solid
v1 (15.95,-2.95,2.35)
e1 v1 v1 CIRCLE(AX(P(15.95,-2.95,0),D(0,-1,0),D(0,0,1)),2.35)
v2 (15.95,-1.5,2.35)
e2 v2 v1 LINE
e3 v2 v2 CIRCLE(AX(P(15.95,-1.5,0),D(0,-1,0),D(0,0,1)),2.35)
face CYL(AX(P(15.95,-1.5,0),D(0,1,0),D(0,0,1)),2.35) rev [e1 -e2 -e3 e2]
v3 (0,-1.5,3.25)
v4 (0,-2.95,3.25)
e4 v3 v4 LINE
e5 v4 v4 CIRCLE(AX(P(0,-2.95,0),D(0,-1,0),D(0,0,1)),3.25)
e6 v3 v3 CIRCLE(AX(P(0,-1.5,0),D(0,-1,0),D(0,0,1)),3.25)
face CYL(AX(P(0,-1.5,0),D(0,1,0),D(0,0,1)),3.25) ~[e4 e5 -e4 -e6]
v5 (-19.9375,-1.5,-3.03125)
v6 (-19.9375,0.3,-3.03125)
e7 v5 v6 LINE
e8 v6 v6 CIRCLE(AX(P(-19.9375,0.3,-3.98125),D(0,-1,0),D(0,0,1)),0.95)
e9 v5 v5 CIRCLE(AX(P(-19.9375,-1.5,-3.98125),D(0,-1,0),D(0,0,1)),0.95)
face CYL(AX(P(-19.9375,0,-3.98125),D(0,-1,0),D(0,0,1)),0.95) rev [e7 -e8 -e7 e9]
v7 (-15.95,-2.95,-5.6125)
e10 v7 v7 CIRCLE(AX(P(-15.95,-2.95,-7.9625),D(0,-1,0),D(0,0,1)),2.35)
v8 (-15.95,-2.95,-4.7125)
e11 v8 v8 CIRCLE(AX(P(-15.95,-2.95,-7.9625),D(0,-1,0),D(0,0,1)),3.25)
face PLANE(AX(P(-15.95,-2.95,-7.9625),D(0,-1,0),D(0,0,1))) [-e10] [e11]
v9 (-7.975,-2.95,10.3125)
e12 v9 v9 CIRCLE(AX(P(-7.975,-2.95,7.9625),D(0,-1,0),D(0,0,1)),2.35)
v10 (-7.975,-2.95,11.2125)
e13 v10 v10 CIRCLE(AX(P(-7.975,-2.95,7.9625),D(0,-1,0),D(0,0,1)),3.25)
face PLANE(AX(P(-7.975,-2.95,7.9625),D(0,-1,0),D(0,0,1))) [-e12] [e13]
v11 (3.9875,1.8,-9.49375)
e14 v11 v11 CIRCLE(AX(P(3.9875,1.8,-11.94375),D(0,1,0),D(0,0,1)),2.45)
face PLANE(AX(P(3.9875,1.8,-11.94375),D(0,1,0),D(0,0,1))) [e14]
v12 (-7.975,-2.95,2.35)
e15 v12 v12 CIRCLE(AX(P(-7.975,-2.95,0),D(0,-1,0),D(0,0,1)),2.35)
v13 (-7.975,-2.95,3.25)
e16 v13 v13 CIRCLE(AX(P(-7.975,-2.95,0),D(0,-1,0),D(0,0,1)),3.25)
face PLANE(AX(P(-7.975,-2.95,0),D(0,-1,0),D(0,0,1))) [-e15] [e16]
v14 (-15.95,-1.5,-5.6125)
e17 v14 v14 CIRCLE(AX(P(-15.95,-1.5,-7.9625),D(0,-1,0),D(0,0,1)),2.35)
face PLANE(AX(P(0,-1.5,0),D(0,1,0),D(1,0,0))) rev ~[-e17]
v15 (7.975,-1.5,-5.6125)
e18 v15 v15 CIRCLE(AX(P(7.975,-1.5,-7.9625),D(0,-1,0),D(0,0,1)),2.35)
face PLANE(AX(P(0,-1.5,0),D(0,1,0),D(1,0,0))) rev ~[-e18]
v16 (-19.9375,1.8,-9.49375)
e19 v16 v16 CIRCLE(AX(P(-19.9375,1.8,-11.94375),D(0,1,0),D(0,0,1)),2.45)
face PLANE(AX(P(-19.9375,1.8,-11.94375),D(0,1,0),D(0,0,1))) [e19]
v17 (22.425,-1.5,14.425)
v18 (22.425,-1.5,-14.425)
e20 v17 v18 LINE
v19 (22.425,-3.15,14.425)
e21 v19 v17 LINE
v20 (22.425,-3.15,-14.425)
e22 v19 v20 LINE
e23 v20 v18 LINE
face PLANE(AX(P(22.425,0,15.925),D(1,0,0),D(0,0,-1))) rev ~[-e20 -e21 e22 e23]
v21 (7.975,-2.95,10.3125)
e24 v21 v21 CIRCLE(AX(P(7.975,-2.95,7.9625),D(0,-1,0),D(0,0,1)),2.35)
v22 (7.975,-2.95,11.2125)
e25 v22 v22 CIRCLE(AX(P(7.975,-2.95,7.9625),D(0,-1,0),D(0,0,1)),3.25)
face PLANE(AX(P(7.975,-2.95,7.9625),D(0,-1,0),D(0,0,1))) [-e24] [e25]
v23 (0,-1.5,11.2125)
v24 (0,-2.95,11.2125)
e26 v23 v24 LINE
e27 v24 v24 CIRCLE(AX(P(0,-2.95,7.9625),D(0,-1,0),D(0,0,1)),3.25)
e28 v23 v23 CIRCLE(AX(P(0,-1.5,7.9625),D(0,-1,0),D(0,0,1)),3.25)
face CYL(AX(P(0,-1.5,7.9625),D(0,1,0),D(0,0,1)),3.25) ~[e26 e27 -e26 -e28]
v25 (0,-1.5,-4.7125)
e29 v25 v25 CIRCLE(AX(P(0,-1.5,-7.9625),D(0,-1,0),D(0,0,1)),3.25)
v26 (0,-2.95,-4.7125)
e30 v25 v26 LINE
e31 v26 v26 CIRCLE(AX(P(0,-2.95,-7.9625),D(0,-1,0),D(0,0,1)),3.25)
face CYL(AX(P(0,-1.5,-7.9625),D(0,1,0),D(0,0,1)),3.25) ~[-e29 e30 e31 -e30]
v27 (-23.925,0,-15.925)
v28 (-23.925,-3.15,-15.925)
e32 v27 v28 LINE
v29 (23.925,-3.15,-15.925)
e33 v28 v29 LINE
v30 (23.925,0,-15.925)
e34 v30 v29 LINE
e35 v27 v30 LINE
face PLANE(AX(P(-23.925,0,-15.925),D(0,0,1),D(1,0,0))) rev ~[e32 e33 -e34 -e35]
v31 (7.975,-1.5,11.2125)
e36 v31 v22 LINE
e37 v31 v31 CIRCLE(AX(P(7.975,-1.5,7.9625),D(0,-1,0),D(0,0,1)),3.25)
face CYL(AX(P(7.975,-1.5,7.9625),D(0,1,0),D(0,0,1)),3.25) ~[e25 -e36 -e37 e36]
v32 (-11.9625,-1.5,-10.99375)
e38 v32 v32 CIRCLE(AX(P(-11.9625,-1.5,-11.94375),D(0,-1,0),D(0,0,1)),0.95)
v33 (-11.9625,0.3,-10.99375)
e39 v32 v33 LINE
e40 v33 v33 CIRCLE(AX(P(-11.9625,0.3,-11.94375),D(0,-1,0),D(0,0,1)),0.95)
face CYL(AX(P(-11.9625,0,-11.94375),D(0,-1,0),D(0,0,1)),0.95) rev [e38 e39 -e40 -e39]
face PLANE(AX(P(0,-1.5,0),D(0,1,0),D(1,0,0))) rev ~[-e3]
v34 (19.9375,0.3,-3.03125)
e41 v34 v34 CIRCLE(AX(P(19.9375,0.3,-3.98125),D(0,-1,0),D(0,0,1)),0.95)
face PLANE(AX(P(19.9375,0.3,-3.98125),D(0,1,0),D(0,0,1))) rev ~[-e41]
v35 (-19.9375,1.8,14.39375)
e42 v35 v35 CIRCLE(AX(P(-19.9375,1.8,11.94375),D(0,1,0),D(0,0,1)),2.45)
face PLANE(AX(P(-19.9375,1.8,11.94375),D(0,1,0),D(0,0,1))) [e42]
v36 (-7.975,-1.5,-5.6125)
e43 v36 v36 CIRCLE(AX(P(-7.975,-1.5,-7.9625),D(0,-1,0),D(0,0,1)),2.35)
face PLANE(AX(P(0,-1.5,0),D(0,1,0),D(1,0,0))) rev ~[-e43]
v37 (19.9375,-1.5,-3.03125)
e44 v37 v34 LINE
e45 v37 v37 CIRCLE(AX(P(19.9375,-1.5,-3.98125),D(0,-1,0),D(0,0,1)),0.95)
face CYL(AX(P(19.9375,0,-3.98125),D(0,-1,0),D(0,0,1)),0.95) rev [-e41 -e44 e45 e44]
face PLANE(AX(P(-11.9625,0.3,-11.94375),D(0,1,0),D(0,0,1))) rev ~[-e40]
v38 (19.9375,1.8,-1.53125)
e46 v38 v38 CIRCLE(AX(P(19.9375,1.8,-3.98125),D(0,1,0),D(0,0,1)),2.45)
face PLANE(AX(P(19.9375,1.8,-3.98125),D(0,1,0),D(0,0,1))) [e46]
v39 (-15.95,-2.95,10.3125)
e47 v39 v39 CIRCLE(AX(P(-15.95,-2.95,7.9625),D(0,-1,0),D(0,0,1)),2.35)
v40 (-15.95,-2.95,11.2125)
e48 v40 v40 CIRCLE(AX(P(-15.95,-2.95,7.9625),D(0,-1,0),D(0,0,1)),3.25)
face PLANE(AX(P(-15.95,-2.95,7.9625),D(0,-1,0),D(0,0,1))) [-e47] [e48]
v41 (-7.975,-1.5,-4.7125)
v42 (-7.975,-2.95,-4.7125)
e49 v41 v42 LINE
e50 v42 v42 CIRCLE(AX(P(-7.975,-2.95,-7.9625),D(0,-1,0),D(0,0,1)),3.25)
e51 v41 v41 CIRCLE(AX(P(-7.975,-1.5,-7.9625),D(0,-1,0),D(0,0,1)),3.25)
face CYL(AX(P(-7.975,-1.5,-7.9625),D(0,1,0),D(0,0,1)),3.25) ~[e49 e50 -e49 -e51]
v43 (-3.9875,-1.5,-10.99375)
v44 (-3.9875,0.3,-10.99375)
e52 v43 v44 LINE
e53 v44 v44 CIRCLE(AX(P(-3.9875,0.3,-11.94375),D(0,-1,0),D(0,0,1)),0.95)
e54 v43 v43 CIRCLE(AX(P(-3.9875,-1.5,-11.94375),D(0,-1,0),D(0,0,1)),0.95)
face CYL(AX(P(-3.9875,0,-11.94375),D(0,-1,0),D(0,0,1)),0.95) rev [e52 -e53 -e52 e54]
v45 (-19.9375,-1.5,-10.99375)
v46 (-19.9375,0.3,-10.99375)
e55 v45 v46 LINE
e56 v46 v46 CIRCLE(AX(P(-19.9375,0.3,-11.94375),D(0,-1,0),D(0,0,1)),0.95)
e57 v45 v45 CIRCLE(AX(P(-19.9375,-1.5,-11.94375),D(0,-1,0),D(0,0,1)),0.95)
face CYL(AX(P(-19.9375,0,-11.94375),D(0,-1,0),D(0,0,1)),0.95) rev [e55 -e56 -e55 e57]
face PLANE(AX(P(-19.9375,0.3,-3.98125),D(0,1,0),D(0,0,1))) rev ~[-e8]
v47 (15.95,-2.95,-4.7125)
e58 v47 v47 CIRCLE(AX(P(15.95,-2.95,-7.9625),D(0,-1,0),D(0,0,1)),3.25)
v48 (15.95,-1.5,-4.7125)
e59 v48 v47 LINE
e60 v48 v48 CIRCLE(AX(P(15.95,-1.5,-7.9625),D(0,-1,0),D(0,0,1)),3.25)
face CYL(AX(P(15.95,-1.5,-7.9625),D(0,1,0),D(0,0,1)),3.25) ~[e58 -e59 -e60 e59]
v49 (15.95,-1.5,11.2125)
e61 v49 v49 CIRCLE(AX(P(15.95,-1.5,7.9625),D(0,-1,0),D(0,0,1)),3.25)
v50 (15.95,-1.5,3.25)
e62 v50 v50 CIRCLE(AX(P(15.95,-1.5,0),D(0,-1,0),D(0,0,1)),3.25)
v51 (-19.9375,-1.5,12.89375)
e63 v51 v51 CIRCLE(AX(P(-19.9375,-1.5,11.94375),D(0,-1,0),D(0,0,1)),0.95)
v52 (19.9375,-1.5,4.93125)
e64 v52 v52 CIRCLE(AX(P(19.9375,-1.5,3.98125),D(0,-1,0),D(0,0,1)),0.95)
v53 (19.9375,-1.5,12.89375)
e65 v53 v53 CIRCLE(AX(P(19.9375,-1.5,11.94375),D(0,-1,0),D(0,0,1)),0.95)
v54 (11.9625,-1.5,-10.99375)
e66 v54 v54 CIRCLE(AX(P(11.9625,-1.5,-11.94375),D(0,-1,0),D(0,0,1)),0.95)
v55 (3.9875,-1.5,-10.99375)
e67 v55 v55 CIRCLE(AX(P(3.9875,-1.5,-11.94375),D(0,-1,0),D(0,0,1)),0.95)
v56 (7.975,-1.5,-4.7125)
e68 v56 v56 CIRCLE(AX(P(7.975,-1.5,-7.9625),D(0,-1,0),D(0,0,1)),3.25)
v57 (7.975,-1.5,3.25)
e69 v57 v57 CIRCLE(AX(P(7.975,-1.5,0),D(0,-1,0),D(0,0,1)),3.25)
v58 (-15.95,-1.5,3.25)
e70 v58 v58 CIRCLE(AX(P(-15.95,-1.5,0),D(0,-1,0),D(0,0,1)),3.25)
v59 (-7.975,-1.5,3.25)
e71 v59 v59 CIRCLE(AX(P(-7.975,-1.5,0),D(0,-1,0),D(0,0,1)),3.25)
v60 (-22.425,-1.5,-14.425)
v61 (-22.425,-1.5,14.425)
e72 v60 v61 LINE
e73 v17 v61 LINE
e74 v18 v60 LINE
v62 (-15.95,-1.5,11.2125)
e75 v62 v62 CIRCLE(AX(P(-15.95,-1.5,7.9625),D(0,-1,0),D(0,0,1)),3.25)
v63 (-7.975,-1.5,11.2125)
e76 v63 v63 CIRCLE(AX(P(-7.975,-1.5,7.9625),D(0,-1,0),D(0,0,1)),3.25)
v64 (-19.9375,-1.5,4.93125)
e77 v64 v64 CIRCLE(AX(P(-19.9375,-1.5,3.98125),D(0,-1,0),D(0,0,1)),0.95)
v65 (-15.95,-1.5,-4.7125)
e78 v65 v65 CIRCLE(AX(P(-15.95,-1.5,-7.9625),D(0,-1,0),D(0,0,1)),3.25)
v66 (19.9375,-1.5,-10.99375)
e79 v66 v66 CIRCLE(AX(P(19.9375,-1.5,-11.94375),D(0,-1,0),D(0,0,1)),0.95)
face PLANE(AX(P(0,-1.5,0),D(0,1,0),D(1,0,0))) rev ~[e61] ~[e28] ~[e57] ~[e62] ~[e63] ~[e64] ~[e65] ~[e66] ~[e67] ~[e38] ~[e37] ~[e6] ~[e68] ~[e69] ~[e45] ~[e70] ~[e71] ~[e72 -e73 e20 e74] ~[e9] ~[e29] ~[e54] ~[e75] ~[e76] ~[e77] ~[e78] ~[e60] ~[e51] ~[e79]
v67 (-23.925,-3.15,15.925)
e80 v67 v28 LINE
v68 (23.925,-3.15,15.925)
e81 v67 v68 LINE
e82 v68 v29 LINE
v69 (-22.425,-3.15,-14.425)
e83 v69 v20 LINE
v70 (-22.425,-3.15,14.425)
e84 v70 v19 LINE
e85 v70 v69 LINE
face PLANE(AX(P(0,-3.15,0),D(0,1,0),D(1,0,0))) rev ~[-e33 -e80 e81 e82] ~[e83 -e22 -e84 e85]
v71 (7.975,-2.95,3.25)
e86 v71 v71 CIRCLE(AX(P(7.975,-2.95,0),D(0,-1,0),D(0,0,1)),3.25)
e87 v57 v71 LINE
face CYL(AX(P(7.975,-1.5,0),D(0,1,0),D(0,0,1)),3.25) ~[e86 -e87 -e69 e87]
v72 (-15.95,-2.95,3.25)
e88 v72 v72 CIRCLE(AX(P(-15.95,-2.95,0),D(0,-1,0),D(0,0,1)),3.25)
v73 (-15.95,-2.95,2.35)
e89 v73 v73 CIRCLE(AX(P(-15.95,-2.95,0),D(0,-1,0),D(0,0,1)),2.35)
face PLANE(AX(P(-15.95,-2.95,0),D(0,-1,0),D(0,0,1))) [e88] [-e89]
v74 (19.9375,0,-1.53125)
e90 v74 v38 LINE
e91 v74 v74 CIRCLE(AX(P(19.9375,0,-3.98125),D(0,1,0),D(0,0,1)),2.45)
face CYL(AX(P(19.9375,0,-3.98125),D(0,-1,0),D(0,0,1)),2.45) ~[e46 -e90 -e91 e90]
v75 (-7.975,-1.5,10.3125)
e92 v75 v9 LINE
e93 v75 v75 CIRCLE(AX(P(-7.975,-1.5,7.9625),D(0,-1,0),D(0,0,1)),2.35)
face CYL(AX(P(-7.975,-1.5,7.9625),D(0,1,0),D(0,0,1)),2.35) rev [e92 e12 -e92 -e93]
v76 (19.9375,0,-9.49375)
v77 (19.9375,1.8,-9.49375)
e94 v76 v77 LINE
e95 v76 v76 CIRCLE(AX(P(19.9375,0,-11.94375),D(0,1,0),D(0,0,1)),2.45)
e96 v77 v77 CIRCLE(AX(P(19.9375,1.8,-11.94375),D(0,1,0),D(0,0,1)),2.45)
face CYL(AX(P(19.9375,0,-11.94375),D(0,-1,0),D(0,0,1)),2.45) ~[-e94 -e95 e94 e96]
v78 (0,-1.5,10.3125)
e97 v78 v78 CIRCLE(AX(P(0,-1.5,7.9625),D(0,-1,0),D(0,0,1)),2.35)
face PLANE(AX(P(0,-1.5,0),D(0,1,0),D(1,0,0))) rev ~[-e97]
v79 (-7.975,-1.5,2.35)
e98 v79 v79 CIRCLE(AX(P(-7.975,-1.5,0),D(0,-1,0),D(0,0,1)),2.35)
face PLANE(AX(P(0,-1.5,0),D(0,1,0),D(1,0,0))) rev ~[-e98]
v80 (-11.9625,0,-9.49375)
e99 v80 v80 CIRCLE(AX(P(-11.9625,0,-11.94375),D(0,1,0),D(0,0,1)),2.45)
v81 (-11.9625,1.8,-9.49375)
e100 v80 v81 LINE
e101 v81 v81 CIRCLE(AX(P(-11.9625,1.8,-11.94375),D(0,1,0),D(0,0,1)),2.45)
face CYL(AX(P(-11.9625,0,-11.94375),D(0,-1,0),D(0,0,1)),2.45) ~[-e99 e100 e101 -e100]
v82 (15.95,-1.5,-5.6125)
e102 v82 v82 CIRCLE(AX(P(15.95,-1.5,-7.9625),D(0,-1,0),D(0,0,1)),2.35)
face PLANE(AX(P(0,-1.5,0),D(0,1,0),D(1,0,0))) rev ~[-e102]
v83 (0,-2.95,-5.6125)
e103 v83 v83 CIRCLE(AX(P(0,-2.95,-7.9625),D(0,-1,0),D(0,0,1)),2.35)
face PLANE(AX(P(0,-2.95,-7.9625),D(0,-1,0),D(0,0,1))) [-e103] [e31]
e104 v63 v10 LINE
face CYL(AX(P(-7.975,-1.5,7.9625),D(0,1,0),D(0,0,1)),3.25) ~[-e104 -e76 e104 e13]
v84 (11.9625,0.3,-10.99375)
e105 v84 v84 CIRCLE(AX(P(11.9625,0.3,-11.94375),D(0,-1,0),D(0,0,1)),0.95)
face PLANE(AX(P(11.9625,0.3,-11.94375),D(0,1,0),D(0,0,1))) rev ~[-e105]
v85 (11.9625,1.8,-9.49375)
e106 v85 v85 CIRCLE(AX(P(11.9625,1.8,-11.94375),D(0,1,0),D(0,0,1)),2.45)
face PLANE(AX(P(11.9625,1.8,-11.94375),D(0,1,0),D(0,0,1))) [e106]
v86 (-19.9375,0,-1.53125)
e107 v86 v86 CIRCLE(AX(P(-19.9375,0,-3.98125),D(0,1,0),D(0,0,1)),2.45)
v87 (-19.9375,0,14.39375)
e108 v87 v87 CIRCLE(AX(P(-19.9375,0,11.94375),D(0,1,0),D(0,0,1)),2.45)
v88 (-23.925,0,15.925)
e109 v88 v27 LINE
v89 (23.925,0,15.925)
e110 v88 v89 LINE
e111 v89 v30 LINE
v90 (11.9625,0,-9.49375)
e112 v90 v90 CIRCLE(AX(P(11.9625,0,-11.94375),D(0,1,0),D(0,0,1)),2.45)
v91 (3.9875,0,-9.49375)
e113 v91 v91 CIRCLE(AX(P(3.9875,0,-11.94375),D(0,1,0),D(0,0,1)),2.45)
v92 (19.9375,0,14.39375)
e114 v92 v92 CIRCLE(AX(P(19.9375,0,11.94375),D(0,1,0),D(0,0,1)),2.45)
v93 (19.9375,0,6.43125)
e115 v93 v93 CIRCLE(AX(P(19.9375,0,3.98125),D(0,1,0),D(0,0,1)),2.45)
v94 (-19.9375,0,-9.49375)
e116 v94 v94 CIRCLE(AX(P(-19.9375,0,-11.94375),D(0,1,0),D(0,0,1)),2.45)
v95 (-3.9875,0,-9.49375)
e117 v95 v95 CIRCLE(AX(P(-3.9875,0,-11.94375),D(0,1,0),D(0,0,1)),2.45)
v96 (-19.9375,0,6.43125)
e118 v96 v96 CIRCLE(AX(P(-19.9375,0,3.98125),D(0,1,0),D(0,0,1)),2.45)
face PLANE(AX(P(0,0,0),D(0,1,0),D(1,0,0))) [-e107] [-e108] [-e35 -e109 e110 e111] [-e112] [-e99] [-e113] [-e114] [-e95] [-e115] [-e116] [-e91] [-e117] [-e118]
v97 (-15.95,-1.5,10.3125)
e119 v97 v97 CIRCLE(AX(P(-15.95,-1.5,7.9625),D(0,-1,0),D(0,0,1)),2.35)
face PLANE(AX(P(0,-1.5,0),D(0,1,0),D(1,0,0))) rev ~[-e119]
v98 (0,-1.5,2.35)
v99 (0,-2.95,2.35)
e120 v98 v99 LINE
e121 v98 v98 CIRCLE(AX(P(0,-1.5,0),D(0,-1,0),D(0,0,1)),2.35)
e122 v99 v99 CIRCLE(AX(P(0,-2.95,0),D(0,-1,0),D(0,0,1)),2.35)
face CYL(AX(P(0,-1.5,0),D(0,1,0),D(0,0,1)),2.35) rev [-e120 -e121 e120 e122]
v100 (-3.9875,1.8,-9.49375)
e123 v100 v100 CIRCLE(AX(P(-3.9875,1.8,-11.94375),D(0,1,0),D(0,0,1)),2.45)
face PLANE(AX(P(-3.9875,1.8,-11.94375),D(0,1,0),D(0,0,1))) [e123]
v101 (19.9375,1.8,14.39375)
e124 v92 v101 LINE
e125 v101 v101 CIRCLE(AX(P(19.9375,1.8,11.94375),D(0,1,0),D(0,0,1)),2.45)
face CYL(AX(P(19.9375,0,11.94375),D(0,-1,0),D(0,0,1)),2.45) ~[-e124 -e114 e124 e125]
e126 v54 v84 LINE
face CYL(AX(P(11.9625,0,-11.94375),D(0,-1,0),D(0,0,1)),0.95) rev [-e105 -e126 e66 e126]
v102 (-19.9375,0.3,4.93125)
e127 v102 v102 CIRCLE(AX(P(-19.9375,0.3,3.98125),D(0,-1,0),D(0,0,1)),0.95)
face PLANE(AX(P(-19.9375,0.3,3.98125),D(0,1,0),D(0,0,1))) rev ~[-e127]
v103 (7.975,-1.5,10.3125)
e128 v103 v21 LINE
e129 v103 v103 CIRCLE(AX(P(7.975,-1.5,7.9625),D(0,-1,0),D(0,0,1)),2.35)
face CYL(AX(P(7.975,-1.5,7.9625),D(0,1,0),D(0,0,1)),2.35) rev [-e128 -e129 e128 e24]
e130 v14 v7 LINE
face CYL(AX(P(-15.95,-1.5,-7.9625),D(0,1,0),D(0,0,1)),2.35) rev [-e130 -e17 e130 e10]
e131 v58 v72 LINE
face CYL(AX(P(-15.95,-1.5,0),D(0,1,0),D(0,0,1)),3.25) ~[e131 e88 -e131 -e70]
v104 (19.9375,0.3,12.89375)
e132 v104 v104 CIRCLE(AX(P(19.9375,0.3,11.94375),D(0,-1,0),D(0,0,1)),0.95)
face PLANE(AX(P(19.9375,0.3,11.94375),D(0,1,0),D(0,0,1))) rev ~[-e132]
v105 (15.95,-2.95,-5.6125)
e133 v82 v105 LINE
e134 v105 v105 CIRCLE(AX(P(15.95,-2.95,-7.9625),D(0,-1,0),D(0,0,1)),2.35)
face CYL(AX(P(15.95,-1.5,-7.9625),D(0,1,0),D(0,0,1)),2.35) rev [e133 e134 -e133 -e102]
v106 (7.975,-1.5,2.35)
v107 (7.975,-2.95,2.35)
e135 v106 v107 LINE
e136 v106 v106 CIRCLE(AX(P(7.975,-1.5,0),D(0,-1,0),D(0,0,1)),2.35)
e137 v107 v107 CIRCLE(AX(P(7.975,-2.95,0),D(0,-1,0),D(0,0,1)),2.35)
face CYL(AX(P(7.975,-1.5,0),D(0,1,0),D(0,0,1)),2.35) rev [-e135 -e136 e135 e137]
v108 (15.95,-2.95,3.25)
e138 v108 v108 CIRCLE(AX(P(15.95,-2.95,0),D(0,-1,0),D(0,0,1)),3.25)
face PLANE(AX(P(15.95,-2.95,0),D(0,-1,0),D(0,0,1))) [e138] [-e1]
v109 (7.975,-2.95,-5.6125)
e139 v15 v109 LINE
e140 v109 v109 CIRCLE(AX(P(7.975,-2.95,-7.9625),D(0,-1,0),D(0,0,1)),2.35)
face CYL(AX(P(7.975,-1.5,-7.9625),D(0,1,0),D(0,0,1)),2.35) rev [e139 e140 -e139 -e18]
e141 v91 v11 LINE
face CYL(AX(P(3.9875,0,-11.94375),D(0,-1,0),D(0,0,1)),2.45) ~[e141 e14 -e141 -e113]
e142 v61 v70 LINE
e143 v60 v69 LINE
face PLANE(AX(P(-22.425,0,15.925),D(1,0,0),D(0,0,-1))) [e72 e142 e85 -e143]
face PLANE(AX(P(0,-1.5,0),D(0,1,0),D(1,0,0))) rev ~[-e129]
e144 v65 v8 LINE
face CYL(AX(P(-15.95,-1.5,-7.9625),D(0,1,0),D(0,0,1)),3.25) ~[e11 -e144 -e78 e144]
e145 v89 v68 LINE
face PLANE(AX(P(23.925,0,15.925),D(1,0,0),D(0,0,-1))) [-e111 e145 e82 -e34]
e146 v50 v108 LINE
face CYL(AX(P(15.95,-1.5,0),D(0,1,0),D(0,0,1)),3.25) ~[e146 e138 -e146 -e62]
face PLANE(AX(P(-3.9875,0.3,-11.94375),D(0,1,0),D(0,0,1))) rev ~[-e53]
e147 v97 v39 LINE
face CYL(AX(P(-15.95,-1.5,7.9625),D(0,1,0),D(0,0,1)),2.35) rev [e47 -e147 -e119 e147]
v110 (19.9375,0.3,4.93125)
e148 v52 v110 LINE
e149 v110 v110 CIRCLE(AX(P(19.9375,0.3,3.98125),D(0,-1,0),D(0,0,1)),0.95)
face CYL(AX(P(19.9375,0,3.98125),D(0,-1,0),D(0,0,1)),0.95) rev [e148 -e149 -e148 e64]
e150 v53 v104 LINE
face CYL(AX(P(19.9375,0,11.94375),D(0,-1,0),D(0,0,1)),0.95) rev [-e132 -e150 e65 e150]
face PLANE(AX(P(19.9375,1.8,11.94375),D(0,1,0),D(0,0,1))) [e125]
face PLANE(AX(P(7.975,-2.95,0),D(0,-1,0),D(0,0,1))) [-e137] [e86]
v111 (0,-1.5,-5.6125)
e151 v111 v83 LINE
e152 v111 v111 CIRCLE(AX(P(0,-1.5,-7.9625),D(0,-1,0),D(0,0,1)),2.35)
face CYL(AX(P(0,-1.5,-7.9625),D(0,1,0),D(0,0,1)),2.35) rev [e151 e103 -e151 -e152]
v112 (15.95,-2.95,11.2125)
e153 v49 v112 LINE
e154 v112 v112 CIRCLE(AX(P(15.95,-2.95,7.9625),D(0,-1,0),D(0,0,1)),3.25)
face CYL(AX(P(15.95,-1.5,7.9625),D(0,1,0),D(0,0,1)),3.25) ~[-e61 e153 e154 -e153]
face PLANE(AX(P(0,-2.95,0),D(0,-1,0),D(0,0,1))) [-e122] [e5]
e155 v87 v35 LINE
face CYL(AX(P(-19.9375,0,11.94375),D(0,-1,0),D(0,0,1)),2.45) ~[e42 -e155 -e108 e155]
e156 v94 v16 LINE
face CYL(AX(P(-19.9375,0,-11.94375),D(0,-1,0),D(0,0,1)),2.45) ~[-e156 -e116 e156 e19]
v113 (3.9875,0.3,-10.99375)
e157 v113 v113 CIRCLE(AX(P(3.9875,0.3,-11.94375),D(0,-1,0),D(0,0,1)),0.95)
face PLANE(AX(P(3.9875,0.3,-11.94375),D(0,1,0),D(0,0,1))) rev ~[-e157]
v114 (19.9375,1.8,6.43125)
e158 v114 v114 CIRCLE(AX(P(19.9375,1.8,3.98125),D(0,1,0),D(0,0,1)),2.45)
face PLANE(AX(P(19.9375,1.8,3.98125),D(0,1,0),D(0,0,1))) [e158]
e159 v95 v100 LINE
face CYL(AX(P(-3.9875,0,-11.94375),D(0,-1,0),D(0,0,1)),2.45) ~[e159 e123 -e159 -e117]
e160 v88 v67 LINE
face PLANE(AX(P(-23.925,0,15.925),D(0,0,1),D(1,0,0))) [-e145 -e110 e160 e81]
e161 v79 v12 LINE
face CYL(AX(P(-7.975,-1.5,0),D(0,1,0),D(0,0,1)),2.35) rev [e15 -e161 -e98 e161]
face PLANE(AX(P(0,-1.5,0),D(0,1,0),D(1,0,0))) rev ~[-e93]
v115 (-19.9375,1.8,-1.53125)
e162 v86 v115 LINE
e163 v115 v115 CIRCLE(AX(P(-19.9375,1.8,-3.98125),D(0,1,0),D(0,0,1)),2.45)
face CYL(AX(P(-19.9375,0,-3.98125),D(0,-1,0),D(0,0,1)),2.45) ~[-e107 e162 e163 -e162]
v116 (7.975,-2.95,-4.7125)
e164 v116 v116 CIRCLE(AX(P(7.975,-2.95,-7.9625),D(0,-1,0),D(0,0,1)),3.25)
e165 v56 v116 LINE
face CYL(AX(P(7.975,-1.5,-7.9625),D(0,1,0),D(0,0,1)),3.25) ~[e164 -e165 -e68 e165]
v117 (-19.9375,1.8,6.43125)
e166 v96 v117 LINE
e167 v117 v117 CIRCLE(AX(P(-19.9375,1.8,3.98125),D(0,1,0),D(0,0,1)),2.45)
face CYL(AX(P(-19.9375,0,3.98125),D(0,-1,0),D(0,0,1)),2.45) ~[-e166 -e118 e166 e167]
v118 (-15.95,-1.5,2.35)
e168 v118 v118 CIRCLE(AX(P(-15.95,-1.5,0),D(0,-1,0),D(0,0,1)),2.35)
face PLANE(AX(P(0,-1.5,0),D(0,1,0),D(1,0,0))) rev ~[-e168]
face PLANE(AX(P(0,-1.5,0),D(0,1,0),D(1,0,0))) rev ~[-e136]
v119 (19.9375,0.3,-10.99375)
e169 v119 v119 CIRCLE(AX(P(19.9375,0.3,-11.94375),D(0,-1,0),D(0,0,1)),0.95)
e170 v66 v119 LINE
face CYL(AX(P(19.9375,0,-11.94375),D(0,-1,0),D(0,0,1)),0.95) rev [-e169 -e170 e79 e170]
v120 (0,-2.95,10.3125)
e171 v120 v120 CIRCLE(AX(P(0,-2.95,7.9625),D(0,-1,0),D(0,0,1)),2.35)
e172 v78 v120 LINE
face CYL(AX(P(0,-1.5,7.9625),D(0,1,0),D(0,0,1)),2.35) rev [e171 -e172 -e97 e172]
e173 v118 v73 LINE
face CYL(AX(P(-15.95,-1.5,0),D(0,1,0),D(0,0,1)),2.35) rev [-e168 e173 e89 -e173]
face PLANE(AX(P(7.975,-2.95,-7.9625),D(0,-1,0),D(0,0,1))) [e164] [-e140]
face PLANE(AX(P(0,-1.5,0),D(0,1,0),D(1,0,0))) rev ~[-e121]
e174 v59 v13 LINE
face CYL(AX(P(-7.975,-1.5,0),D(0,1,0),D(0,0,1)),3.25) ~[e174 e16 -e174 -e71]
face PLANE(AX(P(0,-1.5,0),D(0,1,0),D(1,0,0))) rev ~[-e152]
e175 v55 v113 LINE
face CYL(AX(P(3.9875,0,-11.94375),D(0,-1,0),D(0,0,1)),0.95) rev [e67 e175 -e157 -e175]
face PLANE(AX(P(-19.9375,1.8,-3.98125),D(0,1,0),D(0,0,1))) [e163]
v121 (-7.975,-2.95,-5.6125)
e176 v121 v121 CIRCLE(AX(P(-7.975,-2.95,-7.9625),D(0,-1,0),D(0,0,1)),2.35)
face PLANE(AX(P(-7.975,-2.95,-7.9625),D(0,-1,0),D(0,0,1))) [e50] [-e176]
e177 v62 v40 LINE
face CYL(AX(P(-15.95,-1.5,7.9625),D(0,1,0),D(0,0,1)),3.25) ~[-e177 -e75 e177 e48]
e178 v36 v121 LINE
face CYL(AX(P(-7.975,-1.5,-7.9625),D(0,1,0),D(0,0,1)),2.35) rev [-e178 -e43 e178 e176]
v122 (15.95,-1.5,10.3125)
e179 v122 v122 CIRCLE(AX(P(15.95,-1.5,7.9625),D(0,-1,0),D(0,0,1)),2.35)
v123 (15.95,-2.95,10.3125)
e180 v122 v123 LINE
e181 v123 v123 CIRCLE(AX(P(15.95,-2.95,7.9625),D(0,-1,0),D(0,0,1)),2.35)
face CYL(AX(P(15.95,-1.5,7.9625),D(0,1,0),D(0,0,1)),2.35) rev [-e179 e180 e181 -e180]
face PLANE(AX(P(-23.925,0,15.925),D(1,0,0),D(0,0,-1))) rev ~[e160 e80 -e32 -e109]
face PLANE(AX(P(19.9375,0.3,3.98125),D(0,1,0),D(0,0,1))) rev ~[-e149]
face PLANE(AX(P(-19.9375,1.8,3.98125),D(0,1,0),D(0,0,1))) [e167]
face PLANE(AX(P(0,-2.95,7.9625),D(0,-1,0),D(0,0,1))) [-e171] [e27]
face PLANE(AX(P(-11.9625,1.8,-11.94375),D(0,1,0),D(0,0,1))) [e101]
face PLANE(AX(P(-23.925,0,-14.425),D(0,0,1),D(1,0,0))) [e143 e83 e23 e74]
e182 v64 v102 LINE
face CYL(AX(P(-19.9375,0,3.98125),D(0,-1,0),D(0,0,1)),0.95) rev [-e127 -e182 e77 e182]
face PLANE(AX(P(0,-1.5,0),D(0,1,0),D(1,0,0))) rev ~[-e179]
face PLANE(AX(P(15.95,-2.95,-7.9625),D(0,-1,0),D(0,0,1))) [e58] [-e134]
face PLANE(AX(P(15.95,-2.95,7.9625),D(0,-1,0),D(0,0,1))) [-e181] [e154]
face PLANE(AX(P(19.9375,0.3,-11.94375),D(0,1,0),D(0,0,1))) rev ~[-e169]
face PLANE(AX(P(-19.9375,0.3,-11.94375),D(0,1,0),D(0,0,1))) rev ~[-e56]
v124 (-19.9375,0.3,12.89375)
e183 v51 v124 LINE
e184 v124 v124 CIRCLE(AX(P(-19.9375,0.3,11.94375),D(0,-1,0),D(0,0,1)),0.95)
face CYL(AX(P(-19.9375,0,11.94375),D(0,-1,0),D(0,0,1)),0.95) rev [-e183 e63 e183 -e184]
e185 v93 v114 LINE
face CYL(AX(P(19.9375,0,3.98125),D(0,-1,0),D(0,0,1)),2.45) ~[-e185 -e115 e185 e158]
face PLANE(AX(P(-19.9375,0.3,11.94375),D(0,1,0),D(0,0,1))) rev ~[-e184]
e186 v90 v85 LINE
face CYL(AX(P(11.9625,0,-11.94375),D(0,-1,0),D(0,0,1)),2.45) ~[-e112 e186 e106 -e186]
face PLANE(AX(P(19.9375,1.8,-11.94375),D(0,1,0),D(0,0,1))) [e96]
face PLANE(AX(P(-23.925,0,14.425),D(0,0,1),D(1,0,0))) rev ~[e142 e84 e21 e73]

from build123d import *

# Parameters (mm, degrees)
SKETCH1_W           = 47.85
SKETCH1_H           = 31.85
BOSS_EXTRUDE1_DEPTH = 3.15
SKETCH2_R           = 2.45
BOSS_EXTRUDE2_DEPTH = 1.8
SHELL1_T            = -1.5
SKETCH3_R           = 3.25
SKETCH3_R_2         = 2.35
BOSS_EXTRUDE3_DEPTH = 1.45


with BuildPart() as part:
    # Sketch1 → Boss-Extrude1 (new body)
    with BuildSketch(Plane(origin=(0, 0, 0), x_dir=(1, 0, 0), z_dir=(0, 1, 0))):
        Rectangle(SKETCH1_W, SKETCH1_H)
    extrude(amount=-BOSS_EXTRUDE1_DEPTH)

    # Sketch2 → Boss-Extrude2 (add)
    with BuildSketch(Plane(origin=(0, 0, 0), x_dir=(1, 0, 0), z_dir=(0, 1, 0))):
        with Locations(Location((-19.9375, -11.94375, 0), (0, 0, 270))):
            Circle(SKETCH2_R)
        with Locations(Location((-19.9375, -3.98125, 0), (0, 0, 270))):
            Circle(SKETCH2_R)
        with Locations(Location((-19.9375, 3.98125, 0), (0, 0, 270))):
            Circle(SKETCH2_R)
        with Locations(Location((-19.9375, 11.94375, 0), (0, 0, 270))):
            Circle(SKETCH2_R)
        with Locations(Location((-11.9625, 11.94375, 0), (0, 0, 270))):
            Circle(SKETCH2_R)
        with Locations(Location((-3.9875, 11.94375, 0), (0, 0, 270))):
            Circle(SKETCH2_R)
        with Locations(Location((3.9875, 11.94375, 0), (0, 0, 270))):
            Circle(SKETCH2_R)
        with Locations(Location((11.9625, 11.94375, 0), (0, 0, 270))):
            Circle(SKETCH2_R)
        with Locations(Location((19.9375, 11.94375, 0), (0, 0, 270))):
            Circle(SKETCH2_R)
        with Locations(Location((19.9375, 3.98125, 0), (0, 0, 270))):
            Circle(SKETCH2_R)
        with Locations(Location((19.9375, -3.98125, 0), (0, 0, 270))):
            Circle(SKETCH2_R)
        with Locations(Location((19.9375, -11.94375, 0), (0, 0, 270))):
            Circle(SKETCH2_R)
    extrude(amount=BOSS_EXTRUDE2_DEPTH)

    # Shell1
    shell1_openings = [part.faces().sort_by_distance(p)[0] for p in [
        (0, -3.15, 0),
    ]]
    offset(amount=SHELL1_T, openings=shell1_openings, kind=Kind.INTERSECTION)

    # Sketch3 → Boss-Extrude3 (add)
    # profile 1 of 15: a face of its own
    with BuildSketch(Plane.XZ.offset(1.5)):
        with Locations(Location((-15.95, -7.9625, 0), (0, 0, 90))):
            Circle(SKETCH3_R)
        with Locations(Location((-15.95, -7.9625, 0), (0, 0, 90))):
            Circle(SKETCH3_R_2, mode=Mode.SUBTRACT)
    # profile 2 of 15: a face of its own
    with BuildSketch(Plane.XZ.offset(1.5)):
        with Locations(Location((-7.975, -7.9625, 0), (0, 0, 90))):
            Circle(SKETCH3_R)
        with Locations(Location((-7.975, -7.9625, 0), (0, 0, 90))):
            Circle(SKETCH3_R_2, mode=Mode.SUBTRACT)
    # profile 3 of 15: a face of its own
    with BuildSketch(Plane.XZ.offset(1.5)):
        with Locations(Location((0, -7.9625, 0), (0, 0, 90))):
            Circle(SKETCH3_R)
        with Locations(Location((0, -7.9625, 0), (0, 0, 90))):
            Circle(SKETCH3_R_2, mode=Mode.SUBTRACT)
    # profile 4 of 15: a face of its own
    with BuildSketch(Plane.XZ.offset(1.5)):
        with Locations(Location((7.975, -7.9625, 0), (0, 0, 90))):
            Circle(SKETCH3_R)
        with Locations(Location((7.975, -7.9625, 0), (0, 0, 90))):
            Circle(SKETCH3_R_2, mode=Mode.SUBTRACT)
    # profile 5 of 15: a face of its own
    with BuildSketch(Plane.XZ.offset(1.5)):
        with Locations(Location((15.95, -7.9625, 0), (0, 0, 90))):
            Circle(SKETCH3_R)
        with Locations(Location((15.95, -7.9625, 0), (0, 0, 90))):
            Circle(SKETCH3_R_2, mode=Mode.SUBTRACT)
    # profile 6 of 15: a face of its own
    with BuildSketch(Plane.XZ.offset(1.5)):
        with Locations(Location((-7.975, 0, 0), (0, 0, 90))):
            Circle(SKETCH3_R)
        with Locations(Location((-7.975, 0, 0), (0, 0, 90))):
            Circle(SKETCH3_R_2, mode=Mode.SUBTRACT)
    # profile 7 of 15: a face of its own
    with BuildSketch(Plane.XZ.offset(1.5)):
        with Locations(Location((0, 0, 0), (0, 0, 90))):
            Circle(SKETCH3_R)
        with Locations(Location((0, 0, 0), (0, 0, 90))):
            Circle(SKETCH3_R_2, mode=Mode.SUBTRACT)
    # profile 8 of 15: a face of its own
    with BuildSketch(Plane.XZ.offset(1.5)):
        with Locations(Location((7.975, 0, 0), (0, 0, 90))):
            Circle(SKETCH3_R)
        with Locations(Location((7.975, 0, 0), (0, 0, 90))):
            Circle(SKETCH3_R_2, mode=Mode.SUBTRACT)
    # profile 9 of 15: a face of its own
    with BuildSketch(Plane.XZ.offset(1.5)):
        with Locations(Location((15.95, 0, 0), (0, 0, 90))):
            Circle(SKETCH3_R)
        with Locations(Location((15.95, 0, 0), (0, 0, 90))):
            Circle(SKETCH3_R_2, mode=Mode.SUBTRACT)
    # profile 10 of 15: a face of its own
    with BuildSketch(Plane.XZ.offset(1.5)):
        with Locations(Location((-7.975, 7.9625, 0), (0, 0, 90))):
            Circle(SKETCH3_R)
        with Locations(Location((-7.975, 7.9625, 0), (0, 0, 90))):
            Circle(SKETCH3_R_2, mode=Mode.SUBTRACT)
    # profile 11 of 15: a face of its own
    with BuildSketch(Plane.XZ.offset(1.5)):
        with Locations(Location((0, 7.9625, 0), (0, 0, 90))):
            Circle(SKETCH3_R)
        with Locations(Location((0, 7.9625, 0), (0, 0, 90))):
            Circle(SKETCH3_R_2, mode=Mode.SUBTRACT)
    # profile 12 of 15: a face of its own
    with BuildSketch(Plane.XZ.offset(1.5)):
        with Locations(Location((7.975, 7.9625, 0), (0, 0, 90))):
            Circle(SKETCH3_R)
        with Locations(Location((7.975, 7.9625, 0), (0, 0, 90))):
            Circle(SKETCH3_R_2, mode=Mode.SUBTRACT)
    # profile 13 of 15: a face of its own
    with BuildSketch(Plane.XZ.offset(1.5)):
        with Locations(Location((15.95, 7.9625, 0), (0, 0, 90))):
            Circle(SKETCH3_R)
        with Locations(Location((15.95, 7.9625, 0), (0, 0, 90))):
            Circle(SKETCH3_R_2, mode=Mode.SUBTRACT)
    # profile 14 of 15: a face of its own
    with BuildSketch(Plane.XZ.offset(1.5)):
        with Locations(Location((-15.95, 0, 0), (0, 0, 90))):
            Circle(SKETCH3_R)
        with Locations(Location((-15.95, 0, 0), (0, 0, 90))):
            Circle(SKETCH3_R_2, mode=Mode.SUBTRACT)
    # profile 15 of 15: a face of its own
    with BuildSketch(Plane.XZ.offset(1.5)):
        with Locations(Location((-15.95, 7.9625, 0), (0, 0, 90))):
            Circle(SKETCH3_R)
        with Locations(Location((-15.95, 7.9625, 0), (0, 0, 90))):
            Circle(SKETCH3_R_2, mode=Mode.SUBTRACT)
    extrude(amount=BOSS_EXTRUDE3_DEPTH)


solid = part.part
